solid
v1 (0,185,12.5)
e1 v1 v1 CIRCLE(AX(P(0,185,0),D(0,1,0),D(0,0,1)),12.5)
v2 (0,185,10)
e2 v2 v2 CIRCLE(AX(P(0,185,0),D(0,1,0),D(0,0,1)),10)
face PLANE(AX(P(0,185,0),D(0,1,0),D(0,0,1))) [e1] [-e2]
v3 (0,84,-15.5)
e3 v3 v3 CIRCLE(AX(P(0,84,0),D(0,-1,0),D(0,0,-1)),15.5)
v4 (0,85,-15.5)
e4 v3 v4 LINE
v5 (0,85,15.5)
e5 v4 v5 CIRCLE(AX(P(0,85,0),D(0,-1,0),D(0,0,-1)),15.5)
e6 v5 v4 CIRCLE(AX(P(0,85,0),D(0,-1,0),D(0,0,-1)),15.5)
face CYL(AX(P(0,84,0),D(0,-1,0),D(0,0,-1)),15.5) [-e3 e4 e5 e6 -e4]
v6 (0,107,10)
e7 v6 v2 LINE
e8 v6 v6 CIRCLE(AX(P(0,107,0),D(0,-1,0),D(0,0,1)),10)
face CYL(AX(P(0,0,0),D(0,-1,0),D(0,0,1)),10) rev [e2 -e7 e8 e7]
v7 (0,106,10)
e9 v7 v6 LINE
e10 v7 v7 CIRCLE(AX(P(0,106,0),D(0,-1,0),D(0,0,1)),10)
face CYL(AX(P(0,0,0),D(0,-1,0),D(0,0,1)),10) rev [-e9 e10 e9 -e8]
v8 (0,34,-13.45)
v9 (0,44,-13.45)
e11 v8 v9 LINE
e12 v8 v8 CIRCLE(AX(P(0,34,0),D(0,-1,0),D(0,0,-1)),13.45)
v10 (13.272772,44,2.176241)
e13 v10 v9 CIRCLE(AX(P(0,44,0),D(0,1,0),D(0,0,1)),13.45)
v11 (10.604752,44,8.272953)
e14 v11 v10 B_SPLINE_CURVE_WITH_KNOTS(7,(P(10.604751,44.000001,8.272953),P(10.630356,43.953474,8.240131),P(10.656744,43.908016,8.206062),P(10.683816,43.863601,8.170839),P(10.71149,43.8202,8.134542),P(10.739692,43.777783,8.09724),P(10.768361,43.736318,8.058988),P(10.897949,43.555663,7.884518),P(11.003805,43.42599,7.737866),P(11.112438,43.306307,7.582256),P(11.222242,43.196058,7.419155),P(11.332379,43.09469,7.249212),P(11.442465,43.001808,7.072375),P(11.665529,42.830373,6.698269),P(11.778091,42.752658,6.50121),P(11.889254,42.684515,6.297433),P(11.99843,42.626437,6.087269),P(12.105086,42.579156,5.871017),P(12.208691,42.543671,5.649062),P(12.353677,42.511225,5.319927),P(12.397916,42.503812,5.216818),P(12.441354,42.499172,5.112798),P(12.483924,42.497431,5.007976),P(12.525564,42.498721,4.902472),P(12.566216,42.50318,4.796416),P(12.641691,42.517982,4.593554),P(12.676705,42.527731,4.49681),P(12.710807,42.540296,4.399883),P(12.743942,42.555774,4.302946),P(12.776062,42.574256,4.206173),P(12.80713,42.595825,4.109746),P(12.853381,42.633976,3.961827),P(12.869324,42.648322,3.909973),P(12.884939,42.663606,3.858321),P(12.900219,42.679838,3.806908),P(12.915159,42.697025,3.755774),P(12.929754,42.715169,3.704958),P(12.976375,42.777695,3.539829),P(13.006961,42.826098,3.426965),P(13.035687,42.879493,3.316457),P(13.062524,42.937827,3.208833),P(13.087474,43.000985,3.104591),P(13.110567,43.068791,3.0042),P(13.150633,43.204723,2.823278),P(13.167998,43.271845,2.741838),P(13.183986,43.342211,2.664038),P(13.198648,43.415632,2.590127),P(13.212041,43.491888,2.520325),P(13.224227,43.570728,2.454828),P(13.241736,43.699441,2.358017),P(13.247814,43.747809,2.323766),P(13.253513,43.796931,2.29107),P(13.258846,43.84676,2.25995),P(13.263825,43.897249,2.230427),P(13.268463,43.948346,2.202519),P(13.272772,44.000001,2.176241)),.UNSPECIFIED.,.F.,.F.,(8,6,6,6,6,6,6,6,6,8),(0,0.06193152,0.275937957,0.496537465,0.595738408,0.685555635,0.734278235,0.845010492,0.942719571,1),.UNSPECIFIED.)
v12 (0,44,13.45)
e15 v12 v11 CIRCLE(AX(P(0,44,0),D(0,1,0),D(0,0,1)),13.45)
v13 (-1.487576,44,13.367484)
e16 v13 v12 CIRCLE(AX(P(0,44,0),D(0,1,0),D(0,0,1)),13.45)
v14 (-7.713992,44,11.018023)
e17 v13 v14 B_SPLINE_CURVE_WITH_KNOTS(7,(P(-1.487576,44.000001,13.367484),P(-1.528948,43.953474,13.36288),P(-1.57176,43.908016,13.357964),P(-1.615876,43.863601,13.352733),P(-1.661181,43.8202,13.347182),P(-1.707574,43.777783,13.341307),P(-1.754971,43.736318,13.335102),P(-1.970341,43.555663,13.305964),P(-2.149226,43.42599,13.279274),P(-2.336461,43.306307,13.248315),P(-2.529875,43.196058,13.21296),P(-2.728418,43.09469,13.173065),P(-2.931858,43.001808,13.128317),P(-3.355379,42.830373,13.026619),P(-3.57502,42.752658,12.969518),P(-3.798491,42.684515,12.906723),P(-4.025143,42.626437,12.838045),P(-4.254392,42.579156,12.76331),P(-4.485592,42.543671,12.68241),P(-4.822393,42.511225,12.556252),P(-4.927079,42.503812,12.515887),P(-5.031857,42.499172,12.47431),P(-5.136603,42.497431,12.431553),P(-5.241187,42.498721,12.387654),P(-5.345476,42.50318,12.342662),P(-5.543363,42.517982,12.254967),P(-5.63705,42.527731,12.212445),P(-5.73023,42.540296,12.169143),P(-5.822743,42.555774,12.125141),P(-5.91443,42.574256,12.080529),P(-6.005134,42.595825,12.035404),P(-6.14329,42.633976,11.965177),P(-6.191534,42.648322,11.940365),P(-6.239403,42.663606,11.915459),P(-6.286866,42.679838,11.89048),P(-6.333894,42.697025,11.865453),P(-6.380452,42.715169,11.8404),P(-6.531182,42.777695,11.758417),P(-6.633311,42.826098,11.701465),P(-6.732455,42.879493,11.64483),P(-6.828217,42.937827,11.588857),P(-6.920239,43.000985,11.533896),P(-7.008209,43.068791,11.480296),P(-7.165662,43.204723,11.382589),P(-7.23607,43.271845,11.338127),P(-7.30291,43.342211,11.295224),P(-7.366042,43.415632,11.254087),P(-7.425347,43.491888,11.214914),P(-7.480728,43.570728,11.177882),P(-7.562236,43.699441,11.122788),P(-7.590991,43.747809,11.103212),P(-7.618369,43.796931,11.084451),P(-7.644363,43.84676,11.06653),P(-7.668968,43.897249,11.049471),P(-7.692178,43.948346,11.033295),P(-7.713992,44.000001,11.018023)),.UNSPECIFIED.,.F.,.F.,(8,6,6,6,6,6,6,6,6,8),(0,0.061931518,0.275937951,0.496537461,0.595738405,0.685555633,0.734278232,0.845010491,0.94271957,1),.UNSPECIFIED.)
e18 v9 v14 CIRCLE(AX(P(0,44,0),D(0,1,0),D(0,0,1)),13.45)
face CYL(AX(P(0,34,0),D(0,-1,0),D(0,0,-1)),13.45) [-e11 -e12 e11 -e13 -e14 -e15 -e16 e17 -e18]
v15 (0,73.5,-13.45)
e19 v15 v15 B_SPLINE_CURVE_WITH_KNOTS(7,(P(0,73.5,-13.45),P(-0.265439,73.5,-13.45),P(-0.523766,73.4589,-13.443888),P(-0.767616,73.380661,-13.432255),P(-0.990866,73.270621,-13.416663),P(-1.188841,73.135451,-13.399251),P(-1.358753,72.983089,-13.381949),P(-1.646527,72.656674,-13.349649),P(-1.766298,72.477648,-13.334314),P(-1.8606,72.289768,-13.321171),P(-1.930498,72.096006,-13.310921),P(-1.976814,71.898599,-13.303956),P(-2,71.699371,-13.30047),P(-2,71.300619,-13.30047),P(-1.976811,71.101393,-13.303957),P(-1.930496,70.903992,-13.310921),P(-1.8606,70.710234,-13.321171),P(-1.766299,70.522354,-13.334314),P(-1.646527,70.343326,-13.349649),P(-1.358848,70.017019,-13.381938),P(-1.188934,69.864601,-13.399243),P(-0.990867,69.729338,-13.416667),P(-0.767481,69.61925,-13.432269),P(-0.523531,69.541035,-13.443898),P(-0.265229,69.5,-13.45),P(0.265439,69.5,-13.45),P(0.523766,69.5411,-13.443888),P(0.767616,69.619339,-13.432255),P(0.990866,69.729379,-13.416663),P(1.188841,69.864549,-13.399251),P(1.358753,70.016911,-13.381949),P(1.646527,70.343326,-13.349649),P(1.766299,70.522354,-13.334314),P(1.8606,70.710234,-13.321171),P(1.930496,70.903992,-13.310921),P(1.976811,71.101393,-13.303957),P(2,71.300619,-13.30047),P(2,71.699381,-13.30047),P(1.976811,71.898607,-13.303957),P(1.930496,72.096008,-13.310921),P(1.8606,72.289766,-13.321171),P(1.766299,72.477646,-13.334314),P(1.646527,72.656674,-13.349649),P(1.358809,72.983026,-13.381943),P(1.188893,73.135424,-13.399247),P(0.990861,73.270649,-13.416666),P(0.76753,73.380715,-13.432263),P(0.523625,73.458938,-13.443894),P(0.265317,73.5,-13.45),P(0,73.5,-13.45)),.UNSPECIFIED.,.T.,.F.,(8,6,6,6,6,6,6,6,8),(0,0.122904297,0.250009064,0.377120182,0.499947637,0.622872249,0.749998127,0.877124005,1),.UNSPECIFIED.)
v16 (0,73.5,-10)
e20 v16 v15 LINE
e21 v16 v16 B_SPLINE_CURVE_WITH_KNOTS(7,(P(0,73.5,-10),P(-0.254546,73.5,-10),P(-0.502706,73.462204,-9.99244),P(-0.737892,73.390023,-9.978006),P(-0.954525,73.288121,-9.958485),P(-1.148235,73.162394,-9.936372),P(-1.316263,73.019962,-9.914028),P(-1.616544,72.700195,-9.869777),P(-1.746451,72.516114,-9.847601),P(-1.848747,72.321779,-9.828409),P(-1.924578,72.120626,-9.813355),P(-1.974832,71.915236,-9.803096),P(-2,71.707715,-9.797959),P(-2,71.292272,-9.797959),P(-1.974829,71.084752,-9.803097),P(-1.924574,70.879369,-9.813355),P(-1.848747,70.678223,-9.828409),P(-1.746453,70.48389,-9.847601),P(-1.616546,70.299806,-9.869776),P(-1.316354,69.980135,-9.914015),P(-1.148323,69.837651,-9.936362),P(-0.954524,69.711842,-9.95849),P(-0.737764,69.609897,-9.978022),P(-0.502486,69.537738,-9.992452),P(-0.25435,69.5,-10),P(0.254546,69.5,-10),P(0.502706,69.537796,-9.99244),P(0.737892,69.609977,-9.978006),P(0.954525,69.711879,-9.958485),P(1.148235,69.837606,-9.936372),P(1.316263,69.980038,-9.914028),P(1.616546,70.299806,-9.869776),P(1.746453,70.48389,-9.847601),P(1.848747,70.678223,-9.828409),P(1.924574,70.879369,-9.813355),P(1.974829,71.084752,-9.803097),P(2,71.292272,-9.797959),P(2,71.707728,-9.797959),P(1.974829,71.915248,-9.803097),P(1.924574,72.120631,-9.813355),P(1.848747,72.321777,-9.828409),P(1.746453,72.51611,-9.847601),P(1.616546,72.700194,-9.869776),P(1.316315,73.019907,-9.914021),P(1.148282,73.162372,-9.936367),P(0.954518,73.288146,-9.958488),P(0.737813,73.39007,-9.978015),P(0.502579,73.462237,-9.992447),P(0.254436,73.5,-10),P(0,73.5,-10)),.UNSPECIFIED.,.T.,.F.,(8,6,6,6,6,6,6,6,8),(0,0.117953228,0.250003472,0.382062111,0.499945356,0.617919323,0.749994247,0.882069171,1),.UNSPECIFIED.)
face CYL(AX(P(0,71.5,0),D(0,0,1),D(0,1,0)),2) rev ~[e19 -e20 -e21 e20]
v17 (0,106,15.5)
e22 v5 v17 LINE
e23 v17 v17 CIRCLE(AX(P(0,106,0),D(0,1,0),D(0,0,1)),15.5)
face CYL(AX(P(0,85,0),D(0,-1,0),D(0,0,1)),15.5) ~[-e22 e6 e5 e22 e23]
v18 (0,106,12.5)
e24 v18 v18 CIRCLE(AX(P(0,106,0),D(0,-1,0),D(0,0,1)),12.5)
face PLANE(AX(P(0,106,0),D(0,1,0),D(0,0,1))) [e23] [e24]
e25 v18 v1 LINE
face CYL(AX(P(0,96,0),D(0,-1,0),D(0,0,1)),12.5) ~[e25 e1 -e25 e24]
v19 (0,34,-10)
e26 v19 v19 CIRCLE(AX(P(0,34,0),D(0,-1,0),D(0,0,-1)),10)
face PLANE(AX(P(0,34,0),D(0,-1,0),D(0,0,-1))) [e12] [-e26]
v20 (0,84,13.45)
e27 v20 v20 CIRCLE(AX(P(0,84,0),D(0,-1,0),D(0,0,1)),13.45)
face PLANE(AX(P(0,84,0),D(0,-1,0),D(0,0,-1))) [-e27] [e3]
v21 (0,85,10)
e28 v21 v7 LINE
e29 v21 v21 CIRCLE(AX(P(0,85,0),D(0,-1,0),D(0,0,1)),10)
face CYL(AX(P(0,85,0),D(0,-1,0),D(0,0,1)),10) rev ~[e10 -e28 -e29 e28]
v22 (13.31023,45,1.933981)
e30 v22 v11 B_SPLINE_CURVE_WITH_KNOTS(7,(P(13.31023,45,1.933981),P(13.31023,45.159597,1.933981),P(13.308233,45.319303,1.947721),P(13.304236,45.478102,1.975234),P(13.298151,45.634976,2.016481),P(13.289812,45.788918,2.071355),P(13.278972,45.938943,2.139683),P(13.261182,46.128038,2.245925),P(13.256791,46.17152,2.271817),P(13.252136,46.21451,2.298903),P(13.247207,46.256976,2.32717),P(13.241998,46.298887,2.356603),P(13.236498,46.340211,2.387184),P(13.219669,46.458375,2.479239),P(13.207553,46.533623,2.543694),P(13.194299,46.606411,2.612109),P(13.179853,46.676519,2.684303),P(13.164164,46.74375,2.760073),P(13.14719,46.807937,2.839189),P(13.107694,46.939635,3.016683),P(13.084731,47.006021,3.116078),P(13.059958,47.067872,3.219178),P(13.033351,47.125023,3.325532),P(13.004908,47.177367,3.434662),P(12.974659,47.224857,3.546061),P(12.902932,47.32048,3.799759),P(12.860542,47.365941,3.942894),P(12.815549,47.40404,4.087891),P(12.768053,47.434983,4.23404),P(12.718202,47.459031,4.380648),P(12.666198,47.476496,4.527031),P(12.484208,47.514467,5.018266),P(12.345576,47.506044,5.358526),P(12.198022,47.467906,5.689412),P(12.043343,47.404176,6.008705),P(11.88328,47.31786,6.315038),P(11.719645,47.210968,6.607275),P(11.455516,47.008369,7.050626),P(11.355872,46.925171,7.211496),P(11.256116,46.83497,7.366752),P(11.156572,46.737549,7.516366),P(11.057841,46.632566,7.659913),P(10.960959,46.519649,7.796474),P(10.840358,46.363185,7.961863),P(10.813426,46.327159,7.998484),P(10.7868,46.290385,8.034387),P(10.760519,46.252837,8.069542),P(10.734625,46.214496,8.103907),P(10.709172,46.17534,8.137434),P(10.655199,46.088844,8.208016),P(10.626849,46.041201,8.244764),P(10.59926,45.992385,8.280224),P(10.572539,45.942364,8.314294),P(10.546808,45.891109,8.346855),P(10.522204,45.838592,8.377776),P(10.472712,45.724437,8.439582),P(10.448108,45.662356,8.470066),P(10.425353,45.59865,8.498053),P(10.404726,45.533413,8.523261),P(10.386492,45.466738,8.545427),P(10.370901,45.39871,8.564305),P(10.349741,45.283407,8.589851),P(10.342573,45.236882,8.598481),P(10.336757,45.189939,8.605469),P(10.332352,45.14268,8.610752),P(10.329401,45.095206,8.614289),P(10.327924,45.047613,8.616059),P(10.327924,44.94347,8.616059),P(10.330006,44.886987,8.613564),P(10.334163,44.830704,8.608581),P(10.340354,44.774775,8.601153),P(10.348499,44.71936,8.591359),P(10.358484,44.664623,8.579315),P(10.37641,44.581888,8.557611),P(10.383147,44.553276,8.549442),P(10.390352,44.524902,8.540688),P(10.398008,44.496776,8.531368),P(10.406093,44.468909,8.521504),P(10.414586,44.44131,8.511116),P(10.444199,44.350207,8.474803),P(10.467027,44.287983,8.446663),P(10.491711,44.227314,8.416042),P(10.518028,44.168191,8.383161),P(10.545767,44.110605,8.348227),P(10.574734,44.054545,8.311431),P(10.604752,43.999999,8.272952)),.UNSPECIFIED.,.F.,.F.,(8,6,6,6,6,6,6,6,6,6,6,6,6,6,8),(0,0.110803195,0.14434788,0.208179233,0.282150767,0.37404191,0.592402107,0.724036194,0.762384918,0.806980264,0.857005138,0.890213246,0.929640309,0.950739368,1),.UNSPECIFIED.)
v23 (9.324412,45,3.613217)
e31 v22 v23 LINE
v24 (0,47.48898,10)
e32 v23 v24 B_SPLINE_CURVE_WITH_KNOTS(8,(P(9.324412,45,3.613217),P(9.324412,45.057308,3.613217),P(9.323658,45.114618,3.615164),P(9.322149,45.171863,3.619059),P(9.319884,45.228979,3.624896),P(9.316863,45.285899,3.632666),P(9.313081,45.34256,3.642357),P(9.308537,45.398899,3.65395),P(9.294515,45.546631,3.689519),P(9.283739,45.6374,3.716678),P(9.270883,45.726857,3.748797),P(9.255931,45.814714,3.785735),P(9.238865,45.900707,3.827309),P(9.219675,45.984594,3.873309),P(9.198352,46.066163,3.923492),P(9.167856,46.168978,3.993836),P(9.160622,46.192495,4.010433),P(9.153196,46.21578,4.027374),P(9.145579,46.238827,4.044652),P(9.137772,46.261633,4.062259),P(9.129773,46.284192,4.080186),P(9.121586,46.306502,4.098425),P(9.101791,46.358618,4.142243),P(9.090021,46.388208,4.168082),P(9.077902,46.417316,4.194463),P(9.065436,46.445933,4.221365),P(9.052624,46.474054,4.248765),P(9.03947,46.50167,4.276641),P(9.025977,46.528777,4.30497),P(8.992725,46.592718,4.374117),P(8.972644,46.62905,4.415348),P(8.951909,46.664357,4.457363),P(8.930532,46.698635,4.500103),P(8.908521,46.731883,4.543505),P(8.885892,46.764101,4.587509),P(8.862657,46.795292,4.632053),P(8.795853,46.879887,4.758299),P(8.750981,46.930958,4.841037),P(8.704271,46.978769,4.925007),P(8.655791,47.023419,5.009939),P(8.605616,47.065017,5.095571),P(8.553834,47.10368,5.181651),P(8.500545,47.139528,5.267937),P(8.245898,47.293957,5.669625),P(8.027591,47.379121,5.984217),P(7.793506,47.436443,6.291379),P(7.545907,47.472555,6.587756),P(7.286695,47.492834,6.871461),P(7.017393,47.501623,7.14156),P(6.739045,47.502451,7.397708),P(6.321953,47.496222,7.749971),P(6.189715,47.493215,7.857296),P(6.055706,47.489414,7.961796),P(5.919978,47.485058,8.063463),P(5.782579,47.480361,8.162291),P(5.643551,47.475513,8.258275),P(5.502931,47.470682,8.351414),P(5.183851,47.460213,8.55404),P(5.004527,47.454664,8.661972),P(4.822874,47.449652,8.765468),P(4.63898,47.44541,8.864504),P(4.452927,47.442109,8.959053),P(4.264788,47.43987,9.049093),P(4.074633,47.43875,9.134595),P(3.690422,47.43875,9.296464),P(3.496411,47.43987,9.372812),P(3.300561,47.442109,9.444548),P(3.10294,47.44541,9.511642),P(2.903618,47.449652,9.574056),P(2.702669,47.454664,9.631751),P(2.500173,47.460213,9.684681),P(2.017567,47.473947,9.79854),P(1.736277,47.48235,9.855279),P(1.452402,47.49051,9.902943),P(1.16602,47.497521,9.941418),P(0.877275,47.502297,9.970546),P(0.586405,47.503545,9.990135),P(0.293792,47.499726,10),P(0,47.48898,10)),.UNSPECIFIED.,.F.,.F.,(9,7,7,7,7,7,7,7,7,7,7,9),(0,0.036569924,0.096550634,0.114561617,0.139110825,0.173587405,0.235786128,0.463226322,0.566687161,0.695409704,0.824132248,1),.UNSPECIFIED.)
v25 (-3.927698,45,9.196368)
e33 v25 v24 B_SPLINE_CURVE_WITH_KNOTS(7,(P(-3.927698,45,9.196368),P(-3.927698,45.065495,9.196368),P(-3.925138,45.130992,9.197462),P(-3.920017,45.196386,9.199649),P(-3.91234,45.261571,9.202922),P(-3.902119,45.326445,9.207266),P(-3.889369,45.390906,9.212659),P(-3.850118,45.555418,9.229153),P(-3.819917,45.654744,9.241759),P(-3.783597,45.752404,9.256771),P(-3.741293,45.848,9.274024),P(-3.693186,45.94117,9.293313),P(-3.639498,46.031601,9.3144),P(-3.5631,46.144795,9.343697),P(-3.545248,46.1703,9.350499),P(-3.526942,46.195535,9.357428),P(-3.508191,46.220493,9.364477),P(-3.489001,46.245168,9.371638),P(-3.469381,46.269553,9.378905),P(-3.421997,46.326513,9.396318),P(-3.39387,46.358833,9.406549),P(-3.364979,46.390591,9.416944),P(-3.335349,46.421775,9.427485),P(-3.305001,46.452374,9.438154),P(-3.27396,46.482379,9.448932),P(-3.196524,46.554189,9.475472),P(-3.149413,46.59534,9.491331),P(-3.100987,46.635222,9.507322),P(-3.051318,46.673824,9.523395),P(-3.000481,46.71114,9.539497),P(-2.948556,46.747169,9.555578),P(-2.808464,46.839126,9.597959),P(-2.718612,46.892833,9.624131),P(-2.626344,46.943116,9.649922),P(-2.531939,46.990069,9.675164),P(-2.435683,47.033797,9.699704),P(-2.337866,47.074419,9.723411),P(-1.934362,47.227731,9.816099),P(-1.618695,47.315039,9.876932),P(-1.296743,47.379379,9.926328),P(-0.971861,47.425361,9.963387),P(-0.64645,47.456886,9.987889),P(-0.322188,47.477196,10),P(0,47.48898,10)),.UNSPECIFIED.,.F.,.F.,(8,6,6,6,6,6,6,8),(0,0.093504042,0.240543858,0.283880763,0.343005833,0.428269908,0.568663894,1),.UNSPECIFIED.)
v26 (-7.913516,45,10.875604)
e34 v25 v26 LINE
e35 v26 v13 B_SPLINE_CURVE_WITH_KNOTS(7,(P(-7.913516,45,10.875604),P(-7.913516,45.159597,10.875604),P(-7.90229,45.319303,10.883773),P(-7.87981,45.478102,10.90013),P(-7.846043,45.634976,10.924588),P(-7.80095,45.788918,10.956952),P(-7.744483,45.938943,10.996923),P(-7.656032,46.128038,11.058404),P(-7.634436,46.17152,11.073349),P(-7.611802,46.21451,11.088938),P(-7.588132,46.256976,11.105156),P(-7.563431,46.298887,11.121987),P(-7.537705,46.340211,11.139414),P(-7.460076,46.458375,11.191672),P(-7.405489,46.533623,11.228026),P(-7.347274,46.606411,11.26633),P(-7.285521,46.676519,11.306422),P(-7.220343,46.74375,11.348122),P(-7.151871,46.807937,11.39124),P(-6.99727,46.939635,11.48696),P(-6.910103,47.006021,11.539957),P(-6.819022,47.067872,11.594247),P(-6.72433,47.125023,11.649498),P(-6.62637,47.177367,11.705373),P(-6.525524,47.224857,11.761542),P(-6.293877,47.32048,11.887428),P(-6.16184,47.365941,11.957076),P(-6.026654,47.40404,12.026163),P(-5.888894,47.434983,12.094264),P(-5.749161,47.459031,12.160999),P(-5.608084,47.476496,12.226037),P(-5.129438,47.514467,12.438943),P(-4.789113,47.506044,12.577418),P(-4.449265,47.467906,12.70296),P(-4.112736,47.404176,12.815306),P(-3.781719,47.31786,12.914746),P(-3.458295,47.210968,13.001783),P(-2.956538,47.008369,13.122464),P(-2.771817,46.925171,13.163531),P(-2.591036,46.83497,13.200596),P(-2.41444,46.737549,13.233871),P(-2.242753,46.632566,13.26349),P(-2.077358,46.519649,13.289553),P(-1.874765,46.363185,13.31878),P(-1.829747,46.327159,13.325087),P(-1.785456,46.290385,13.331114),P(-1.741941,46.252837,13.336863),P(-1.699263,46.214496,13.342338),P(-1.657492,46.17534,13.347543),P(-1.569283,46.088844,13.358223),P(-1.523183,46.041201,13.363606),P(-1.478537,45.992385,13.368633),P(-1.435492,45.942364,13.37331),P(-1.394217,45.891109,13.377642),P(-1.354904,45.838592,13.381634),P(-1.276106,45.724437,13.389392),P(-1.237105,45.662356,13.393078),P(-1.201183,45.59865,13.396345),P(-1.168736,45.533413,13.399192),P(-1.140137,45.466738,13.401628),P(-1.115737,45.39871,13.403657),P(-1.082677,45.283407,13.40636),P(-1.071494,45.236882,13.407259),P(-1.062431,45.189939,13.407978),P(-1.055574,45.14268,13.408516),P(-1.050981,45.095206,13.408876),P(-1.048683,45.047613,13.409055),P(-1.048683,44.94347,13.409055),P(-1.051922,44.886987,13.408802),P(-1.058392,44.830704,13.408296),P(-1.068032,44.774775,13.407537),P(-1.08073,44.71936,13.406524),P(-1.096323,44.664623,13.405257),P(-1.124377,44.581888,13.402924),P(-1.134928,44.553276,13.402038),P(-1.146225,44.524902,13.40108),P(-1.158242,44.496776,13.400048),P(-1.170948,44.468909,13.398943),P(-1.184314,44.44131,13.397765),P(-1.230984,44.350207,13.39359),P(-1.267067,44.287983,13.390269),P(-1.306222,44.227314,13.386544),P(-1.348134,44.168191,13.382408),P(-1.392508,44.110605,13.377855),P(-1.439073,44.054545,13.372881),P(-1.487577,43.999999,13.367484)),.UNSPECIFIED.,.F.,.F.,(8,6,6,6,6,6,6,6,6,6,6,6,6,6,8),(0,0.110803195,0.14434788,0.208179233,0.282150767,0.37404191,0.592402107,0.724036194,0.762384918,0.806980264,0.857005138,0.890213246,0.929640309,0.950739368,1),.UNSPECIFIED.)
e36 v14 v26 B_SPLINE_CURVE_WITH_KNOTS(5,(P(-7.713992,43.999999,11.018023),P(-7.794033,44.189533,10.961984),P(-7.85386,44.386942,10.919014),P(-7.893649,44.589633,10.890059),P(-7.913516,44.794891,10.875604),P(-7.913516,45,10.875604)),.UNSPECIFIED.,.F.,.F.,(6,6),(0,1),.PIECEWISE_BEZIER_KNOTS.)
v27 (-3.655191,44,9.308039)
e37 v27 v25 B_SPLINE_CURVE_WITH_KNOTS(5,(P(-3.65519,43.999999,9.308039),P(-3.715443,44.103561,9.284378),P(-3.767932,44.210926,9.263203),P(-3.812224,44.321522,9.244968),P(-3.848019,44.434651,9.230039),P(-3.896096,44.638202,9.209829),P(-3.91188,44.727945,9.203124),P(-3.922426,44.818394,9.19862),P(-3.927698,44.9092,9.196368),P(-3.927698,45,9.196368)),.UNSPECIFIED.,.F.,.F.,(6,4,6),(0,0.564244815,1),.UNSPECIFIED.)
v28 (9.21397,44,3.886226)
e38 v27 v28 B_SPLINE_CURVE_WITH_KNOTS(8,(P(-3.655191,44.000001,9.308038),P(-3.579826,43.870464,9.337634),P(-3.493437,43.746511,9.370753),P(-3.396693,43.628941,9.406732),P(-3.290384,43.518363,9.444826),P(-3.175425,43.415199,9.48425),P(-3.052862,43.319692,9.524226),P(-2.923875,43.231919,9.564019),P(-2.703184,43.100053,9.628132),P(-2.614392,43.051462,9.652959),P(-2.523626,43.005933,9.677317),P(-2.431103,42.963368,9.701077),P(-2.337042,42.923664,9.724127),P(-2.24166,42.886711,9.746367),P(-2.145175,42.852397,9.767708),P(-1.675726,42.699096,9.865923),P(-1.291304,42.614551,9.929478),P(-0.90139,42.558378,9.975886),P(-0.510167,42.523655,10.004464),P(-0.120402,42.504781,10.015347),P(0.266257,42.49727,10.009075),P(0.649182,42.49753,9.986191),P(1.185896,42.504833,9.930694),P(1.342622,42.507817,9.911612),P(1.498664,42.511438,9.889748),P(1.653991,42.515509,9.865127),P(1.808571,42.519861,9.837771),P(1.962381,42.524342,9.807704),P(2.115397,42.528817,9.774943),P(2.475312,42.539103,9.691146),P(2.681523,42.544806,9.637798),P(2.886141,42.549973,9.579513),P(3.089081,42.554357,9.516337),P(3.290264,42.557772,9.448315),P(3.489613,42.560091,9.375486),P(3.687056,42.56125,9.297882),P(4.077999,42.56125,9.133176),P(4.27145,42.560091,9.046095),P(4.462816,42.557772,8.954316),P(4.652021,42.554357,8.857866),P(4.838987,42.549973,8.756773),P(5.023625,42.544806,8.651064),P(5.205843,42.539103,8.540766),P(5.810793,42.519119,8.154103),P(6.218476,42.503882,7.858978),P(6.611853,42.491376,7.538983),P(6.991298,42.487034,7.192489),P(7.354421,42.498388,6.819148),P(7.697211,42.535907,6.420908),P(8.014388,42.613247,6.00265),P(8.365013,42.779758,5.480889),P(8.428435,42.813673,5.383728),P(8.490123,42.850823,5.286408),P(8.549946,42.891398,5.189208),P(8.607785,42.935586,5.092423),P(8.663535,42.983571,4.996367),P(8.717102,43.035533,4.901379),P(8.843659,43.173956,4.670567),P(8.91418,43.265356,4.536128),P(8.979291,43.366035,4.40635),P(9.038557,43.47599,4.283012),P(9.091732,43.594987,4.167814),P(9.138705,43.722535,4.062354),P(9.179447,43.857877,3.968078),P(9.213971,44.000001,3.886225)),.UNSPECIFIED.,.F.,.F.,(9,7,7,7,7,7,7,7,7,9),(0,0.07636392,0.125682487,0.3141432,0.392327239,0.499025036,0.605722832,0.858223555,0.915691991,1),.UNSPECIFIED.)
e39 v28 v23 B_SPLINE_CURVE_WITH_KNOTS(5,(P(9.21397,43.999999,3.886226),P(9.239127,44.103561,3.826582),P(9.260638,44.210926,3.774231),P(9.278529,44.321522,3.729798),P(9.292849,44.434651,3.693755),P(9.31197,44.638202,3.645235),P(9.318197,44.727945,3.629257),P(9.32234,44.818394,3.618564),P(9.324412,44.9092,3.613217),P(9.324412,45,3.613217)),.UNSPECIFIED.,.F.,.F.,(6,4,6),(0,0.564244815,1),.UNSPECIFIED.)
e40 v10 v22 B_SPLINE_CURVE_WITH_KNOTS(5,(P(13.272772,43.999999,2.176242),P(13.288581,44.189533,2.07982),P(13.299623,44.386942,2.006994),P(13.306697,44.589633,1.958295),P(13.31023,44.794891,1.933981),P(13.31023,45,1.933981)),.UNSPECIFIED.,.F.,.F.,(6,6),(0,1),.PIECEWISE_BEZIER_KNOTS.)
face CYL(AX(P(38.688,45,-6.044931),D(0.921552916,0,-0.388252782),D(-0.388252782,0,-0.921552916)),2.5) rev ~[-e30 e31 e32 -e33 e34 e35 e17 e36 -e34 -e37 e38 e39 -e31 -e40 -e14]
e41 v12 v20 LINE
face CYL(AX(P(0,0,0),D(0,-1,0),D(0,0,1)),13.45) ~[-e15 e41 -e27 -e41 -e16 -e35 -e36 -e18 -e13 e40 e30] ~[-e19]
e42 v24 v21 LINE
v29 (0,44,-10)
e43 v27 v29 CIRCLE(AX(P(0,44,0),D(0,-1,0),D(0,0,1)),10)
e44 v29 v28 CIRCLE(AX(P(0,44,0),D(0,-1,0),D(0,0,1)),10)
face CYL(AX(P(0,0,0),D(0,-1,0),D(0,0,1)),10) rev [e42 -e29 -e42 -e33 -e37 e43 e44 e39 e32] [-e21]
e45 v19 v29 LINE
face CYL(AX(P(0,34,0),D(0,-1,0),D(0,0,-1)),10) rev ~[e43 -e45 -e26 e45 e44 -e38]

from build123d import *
from build123d.topology import SkipClean

# Parameters (mm, degrees)
SKETCH1_R                = 13.45
SKETCH1_R_2              = 10
BOSS_EXTRUDE1_DEPTH      = 100
BOSS_EXTRUDE2_DEPTH      = 85
BOSS_EXTRUDE2_DEPTH_BACK = 4
SKETCH6_R                = 12.5
SKETCH6_R_2              = 10
BOSS_EXTRUDE3_START      = -84
SKETCH7_R                = 15.5
SKETCH7_R_2              = 10
BOSS_EXTRUDE3_DEPTH      = 1
CUT_EXTRUDE1_DEPTH       = 187.294122291
CUT_EXTRUDE1_DEPTH_BACK  = 187.294122291
SKETCH11_W               = 35.010034018
SKETCH11_H               = 2.4
CUT_EXTRUDE3_DEPTH       = 187.294122291
CUT_EXTRUDE3_DEPTH_BACK  = 187.294122291
SKETCH13_W               = 32.559051685
SKETCH13_H               = 42.8
SKETCH14_R               = 15.5
BOSS_EXTRUDE4_DEPTH      = 21
SKETCH15_R               = 10
CUT_EXTRUDE4_DEPTH       = 22
BOSS_EXTRUDE5_START      = 10
SKETCH17_R               = 13.45
SKETCH17_R_2             = 10
BOSS_EXTRUDE5_DEPTH      = 10
SKETCH18_R               = 2.5
CUT_EXTRUDE5_DEPTH       = 54
SKETCH20_R               = 2
CUT_EXTRUDE6_DEPTH       = 22


with BuildPart() as part:
    # Sketch1 → Boss-Extrude1 (new body)
    with BuildSketch(Plane(origin=(0, 0, 0), x_dir=(1, 0, 0), z_dir=(0, 1, 0))):
        with Locations(Location((0, 0, 0), (0, 0, 270))):
            Circle(SKETCH1_R)
        with Locations(Location((0, 0, 0), (0, 0, 270))):
            Circle(SKETCH1_R_2, mode=Mode.SUBTRACT)
    extrude(amount=BOSS_EXTRUDE1_DEPTH)

    # Sketch6 → Boss-Extrude2 (add, two sides: drawn at the far end of the back side and taken through both)
    with BuildSketch(Plane(origin=(0, 100, 0), x_dir=(1, 0, 0), z_dir=(0, 1, 0)).offset(-BOSS_EXTRUDE2_DEPTH_BACK)):
        with Locations(Location((0, 0, 0), (0, 0, 270))):
            Circle(SKETCH6_R)
        with Locations(Location((0, 0, 0), (0, 0, 270))):
            Circle(SKETCH6_R_2, mode=Mode.SUBTRACT)
    extrude(amount=BOSS_EXTRUDE2_DEPTH + BOSS_EXTRUDE2_DEPTH_BACK)

    # Sketch7 → Boss-Extrude3 (add)
    with BuildSketch(Plane.XZ.offset(BOSS_EXTRUDE3_START)):
        with Locations(Location((0, 0, 0), (0, 0, 270))):
            Circle(SKETCH7_R)
        with Locations(Location((0, 0, 0), (0, 0, 90))):
            Circle(SKETCH7_R_2, mode=Mode.SUBTRACT)
    extrude(amount=-BOSS_EXTRUDE3_DEPTH)

    # Sketch11 → Cut-Extrude1 (cut, two sides: drawn at the far end of the back side and taken through both)
    with BuildSketch(Plane(origin=(0, 0, 0), x_dir=(0, 0, -1), z_dir=(1, 0, 0)).offset(-CUT_EXTRUDE1_DEPTH_BACK)):
        Rectangle(SKETCH11_W, SKETCH11_H)
    extrude(amount=CUT_EXTRUDE1_DEPTH + CUT_EXTRUDE1_DEPTH_BACK, mode=Mode.SUBTRACT)

    # Sketch13 → Cut-Extrude3 (cut, two sides: drawn at the far end of the back side and taken through both)
    with BuildSketch(Plane.XY.offset(-CUT_EXTRUDE3_DEPTH_BACK)):
        with Locations((2.829525842, 22.6)):
            Rectangle(SKETCH13_W, SKETCH13_H)
    extrude(amount=CUT_EXTRUDE3_DEPTH + CUT_EXTRUDE3_DEPTH_BACK, mode=Mode.SUBTRACT)

    # Sketch14 → Boss-Extrude4 (add)
    with BuildSketch(Plane(origin=(0, 85, 0), x_dir=(1, 0, 0), z_dir=(0, 1, 0))):
        with Locations(Location((0, 0, 0), (0, 0, 270))):
            Circle(SKETCH14_R)
    extrude(amount=BOSS_EXTRUDE4_DEPTH)

    # Sketch15 → Cut-Extrude4 (cut)
    with BuildSketch(Plane.XZ.offset(-85)):
        with Locations(Location((0, 0, 0), (0, 0, 90))):
            Circle(SKETCH15_R)
    extrude(amount=-CUT_EXTRUDE4_DEPTH, mode=Mode.SUBTRACT)

    # Sketch17 → Boss-Extrude5 (add)
    with BuildSketch(Plane.XZ.offset(-44).offset(BOSS_EXTRUDE5_START)):
        with Locations(Location((0, 0, 0), (0, 0, 270))):
            Circle(SKETCH17_R)
        with Locations(Location((0, 0, 0), (0, 0, 270))):
            Circle(SKETCH17_R_2, mode=Mode.SUBTRACT)
    extrude(amount=-BOSS_EXTRUDE5_DEPTH)

    # Sketch18 → Cut-Extrude5 (cut)
    with SkipClean():  # the faces are left unmerged after this step: merging them gives an invalid solid
        with BuildSketch(Plane(origin=(35.019010809, 0, -14.753605728), x_dir=(-0.38825278231327914, 1.212401304802914e-15, -0.9215529160205601), z_dir=(0.9215529160205602, -2.877743595734803e-15, -0.3882527823132792))):
            with Locations((-9.45, 45)):
                Circle(SKETCH18_R)
        extrude(amount=-CUT_EXTRUDE5_DEPTH, mode=Mode.SUBTRACT)

    # Sketch20 → Cut-Extrude6 (cut)
    with BuildSketch(Plane.XY):
        with Locations(Location((0, 71.5, 0), (0, 0, 90))):
            Circle(SKETCH20_R)
    extrude(amount=-CUT_EXTRUDE6_DEPTH, mode=Mode.SUBTRACT)


solid = part.part
